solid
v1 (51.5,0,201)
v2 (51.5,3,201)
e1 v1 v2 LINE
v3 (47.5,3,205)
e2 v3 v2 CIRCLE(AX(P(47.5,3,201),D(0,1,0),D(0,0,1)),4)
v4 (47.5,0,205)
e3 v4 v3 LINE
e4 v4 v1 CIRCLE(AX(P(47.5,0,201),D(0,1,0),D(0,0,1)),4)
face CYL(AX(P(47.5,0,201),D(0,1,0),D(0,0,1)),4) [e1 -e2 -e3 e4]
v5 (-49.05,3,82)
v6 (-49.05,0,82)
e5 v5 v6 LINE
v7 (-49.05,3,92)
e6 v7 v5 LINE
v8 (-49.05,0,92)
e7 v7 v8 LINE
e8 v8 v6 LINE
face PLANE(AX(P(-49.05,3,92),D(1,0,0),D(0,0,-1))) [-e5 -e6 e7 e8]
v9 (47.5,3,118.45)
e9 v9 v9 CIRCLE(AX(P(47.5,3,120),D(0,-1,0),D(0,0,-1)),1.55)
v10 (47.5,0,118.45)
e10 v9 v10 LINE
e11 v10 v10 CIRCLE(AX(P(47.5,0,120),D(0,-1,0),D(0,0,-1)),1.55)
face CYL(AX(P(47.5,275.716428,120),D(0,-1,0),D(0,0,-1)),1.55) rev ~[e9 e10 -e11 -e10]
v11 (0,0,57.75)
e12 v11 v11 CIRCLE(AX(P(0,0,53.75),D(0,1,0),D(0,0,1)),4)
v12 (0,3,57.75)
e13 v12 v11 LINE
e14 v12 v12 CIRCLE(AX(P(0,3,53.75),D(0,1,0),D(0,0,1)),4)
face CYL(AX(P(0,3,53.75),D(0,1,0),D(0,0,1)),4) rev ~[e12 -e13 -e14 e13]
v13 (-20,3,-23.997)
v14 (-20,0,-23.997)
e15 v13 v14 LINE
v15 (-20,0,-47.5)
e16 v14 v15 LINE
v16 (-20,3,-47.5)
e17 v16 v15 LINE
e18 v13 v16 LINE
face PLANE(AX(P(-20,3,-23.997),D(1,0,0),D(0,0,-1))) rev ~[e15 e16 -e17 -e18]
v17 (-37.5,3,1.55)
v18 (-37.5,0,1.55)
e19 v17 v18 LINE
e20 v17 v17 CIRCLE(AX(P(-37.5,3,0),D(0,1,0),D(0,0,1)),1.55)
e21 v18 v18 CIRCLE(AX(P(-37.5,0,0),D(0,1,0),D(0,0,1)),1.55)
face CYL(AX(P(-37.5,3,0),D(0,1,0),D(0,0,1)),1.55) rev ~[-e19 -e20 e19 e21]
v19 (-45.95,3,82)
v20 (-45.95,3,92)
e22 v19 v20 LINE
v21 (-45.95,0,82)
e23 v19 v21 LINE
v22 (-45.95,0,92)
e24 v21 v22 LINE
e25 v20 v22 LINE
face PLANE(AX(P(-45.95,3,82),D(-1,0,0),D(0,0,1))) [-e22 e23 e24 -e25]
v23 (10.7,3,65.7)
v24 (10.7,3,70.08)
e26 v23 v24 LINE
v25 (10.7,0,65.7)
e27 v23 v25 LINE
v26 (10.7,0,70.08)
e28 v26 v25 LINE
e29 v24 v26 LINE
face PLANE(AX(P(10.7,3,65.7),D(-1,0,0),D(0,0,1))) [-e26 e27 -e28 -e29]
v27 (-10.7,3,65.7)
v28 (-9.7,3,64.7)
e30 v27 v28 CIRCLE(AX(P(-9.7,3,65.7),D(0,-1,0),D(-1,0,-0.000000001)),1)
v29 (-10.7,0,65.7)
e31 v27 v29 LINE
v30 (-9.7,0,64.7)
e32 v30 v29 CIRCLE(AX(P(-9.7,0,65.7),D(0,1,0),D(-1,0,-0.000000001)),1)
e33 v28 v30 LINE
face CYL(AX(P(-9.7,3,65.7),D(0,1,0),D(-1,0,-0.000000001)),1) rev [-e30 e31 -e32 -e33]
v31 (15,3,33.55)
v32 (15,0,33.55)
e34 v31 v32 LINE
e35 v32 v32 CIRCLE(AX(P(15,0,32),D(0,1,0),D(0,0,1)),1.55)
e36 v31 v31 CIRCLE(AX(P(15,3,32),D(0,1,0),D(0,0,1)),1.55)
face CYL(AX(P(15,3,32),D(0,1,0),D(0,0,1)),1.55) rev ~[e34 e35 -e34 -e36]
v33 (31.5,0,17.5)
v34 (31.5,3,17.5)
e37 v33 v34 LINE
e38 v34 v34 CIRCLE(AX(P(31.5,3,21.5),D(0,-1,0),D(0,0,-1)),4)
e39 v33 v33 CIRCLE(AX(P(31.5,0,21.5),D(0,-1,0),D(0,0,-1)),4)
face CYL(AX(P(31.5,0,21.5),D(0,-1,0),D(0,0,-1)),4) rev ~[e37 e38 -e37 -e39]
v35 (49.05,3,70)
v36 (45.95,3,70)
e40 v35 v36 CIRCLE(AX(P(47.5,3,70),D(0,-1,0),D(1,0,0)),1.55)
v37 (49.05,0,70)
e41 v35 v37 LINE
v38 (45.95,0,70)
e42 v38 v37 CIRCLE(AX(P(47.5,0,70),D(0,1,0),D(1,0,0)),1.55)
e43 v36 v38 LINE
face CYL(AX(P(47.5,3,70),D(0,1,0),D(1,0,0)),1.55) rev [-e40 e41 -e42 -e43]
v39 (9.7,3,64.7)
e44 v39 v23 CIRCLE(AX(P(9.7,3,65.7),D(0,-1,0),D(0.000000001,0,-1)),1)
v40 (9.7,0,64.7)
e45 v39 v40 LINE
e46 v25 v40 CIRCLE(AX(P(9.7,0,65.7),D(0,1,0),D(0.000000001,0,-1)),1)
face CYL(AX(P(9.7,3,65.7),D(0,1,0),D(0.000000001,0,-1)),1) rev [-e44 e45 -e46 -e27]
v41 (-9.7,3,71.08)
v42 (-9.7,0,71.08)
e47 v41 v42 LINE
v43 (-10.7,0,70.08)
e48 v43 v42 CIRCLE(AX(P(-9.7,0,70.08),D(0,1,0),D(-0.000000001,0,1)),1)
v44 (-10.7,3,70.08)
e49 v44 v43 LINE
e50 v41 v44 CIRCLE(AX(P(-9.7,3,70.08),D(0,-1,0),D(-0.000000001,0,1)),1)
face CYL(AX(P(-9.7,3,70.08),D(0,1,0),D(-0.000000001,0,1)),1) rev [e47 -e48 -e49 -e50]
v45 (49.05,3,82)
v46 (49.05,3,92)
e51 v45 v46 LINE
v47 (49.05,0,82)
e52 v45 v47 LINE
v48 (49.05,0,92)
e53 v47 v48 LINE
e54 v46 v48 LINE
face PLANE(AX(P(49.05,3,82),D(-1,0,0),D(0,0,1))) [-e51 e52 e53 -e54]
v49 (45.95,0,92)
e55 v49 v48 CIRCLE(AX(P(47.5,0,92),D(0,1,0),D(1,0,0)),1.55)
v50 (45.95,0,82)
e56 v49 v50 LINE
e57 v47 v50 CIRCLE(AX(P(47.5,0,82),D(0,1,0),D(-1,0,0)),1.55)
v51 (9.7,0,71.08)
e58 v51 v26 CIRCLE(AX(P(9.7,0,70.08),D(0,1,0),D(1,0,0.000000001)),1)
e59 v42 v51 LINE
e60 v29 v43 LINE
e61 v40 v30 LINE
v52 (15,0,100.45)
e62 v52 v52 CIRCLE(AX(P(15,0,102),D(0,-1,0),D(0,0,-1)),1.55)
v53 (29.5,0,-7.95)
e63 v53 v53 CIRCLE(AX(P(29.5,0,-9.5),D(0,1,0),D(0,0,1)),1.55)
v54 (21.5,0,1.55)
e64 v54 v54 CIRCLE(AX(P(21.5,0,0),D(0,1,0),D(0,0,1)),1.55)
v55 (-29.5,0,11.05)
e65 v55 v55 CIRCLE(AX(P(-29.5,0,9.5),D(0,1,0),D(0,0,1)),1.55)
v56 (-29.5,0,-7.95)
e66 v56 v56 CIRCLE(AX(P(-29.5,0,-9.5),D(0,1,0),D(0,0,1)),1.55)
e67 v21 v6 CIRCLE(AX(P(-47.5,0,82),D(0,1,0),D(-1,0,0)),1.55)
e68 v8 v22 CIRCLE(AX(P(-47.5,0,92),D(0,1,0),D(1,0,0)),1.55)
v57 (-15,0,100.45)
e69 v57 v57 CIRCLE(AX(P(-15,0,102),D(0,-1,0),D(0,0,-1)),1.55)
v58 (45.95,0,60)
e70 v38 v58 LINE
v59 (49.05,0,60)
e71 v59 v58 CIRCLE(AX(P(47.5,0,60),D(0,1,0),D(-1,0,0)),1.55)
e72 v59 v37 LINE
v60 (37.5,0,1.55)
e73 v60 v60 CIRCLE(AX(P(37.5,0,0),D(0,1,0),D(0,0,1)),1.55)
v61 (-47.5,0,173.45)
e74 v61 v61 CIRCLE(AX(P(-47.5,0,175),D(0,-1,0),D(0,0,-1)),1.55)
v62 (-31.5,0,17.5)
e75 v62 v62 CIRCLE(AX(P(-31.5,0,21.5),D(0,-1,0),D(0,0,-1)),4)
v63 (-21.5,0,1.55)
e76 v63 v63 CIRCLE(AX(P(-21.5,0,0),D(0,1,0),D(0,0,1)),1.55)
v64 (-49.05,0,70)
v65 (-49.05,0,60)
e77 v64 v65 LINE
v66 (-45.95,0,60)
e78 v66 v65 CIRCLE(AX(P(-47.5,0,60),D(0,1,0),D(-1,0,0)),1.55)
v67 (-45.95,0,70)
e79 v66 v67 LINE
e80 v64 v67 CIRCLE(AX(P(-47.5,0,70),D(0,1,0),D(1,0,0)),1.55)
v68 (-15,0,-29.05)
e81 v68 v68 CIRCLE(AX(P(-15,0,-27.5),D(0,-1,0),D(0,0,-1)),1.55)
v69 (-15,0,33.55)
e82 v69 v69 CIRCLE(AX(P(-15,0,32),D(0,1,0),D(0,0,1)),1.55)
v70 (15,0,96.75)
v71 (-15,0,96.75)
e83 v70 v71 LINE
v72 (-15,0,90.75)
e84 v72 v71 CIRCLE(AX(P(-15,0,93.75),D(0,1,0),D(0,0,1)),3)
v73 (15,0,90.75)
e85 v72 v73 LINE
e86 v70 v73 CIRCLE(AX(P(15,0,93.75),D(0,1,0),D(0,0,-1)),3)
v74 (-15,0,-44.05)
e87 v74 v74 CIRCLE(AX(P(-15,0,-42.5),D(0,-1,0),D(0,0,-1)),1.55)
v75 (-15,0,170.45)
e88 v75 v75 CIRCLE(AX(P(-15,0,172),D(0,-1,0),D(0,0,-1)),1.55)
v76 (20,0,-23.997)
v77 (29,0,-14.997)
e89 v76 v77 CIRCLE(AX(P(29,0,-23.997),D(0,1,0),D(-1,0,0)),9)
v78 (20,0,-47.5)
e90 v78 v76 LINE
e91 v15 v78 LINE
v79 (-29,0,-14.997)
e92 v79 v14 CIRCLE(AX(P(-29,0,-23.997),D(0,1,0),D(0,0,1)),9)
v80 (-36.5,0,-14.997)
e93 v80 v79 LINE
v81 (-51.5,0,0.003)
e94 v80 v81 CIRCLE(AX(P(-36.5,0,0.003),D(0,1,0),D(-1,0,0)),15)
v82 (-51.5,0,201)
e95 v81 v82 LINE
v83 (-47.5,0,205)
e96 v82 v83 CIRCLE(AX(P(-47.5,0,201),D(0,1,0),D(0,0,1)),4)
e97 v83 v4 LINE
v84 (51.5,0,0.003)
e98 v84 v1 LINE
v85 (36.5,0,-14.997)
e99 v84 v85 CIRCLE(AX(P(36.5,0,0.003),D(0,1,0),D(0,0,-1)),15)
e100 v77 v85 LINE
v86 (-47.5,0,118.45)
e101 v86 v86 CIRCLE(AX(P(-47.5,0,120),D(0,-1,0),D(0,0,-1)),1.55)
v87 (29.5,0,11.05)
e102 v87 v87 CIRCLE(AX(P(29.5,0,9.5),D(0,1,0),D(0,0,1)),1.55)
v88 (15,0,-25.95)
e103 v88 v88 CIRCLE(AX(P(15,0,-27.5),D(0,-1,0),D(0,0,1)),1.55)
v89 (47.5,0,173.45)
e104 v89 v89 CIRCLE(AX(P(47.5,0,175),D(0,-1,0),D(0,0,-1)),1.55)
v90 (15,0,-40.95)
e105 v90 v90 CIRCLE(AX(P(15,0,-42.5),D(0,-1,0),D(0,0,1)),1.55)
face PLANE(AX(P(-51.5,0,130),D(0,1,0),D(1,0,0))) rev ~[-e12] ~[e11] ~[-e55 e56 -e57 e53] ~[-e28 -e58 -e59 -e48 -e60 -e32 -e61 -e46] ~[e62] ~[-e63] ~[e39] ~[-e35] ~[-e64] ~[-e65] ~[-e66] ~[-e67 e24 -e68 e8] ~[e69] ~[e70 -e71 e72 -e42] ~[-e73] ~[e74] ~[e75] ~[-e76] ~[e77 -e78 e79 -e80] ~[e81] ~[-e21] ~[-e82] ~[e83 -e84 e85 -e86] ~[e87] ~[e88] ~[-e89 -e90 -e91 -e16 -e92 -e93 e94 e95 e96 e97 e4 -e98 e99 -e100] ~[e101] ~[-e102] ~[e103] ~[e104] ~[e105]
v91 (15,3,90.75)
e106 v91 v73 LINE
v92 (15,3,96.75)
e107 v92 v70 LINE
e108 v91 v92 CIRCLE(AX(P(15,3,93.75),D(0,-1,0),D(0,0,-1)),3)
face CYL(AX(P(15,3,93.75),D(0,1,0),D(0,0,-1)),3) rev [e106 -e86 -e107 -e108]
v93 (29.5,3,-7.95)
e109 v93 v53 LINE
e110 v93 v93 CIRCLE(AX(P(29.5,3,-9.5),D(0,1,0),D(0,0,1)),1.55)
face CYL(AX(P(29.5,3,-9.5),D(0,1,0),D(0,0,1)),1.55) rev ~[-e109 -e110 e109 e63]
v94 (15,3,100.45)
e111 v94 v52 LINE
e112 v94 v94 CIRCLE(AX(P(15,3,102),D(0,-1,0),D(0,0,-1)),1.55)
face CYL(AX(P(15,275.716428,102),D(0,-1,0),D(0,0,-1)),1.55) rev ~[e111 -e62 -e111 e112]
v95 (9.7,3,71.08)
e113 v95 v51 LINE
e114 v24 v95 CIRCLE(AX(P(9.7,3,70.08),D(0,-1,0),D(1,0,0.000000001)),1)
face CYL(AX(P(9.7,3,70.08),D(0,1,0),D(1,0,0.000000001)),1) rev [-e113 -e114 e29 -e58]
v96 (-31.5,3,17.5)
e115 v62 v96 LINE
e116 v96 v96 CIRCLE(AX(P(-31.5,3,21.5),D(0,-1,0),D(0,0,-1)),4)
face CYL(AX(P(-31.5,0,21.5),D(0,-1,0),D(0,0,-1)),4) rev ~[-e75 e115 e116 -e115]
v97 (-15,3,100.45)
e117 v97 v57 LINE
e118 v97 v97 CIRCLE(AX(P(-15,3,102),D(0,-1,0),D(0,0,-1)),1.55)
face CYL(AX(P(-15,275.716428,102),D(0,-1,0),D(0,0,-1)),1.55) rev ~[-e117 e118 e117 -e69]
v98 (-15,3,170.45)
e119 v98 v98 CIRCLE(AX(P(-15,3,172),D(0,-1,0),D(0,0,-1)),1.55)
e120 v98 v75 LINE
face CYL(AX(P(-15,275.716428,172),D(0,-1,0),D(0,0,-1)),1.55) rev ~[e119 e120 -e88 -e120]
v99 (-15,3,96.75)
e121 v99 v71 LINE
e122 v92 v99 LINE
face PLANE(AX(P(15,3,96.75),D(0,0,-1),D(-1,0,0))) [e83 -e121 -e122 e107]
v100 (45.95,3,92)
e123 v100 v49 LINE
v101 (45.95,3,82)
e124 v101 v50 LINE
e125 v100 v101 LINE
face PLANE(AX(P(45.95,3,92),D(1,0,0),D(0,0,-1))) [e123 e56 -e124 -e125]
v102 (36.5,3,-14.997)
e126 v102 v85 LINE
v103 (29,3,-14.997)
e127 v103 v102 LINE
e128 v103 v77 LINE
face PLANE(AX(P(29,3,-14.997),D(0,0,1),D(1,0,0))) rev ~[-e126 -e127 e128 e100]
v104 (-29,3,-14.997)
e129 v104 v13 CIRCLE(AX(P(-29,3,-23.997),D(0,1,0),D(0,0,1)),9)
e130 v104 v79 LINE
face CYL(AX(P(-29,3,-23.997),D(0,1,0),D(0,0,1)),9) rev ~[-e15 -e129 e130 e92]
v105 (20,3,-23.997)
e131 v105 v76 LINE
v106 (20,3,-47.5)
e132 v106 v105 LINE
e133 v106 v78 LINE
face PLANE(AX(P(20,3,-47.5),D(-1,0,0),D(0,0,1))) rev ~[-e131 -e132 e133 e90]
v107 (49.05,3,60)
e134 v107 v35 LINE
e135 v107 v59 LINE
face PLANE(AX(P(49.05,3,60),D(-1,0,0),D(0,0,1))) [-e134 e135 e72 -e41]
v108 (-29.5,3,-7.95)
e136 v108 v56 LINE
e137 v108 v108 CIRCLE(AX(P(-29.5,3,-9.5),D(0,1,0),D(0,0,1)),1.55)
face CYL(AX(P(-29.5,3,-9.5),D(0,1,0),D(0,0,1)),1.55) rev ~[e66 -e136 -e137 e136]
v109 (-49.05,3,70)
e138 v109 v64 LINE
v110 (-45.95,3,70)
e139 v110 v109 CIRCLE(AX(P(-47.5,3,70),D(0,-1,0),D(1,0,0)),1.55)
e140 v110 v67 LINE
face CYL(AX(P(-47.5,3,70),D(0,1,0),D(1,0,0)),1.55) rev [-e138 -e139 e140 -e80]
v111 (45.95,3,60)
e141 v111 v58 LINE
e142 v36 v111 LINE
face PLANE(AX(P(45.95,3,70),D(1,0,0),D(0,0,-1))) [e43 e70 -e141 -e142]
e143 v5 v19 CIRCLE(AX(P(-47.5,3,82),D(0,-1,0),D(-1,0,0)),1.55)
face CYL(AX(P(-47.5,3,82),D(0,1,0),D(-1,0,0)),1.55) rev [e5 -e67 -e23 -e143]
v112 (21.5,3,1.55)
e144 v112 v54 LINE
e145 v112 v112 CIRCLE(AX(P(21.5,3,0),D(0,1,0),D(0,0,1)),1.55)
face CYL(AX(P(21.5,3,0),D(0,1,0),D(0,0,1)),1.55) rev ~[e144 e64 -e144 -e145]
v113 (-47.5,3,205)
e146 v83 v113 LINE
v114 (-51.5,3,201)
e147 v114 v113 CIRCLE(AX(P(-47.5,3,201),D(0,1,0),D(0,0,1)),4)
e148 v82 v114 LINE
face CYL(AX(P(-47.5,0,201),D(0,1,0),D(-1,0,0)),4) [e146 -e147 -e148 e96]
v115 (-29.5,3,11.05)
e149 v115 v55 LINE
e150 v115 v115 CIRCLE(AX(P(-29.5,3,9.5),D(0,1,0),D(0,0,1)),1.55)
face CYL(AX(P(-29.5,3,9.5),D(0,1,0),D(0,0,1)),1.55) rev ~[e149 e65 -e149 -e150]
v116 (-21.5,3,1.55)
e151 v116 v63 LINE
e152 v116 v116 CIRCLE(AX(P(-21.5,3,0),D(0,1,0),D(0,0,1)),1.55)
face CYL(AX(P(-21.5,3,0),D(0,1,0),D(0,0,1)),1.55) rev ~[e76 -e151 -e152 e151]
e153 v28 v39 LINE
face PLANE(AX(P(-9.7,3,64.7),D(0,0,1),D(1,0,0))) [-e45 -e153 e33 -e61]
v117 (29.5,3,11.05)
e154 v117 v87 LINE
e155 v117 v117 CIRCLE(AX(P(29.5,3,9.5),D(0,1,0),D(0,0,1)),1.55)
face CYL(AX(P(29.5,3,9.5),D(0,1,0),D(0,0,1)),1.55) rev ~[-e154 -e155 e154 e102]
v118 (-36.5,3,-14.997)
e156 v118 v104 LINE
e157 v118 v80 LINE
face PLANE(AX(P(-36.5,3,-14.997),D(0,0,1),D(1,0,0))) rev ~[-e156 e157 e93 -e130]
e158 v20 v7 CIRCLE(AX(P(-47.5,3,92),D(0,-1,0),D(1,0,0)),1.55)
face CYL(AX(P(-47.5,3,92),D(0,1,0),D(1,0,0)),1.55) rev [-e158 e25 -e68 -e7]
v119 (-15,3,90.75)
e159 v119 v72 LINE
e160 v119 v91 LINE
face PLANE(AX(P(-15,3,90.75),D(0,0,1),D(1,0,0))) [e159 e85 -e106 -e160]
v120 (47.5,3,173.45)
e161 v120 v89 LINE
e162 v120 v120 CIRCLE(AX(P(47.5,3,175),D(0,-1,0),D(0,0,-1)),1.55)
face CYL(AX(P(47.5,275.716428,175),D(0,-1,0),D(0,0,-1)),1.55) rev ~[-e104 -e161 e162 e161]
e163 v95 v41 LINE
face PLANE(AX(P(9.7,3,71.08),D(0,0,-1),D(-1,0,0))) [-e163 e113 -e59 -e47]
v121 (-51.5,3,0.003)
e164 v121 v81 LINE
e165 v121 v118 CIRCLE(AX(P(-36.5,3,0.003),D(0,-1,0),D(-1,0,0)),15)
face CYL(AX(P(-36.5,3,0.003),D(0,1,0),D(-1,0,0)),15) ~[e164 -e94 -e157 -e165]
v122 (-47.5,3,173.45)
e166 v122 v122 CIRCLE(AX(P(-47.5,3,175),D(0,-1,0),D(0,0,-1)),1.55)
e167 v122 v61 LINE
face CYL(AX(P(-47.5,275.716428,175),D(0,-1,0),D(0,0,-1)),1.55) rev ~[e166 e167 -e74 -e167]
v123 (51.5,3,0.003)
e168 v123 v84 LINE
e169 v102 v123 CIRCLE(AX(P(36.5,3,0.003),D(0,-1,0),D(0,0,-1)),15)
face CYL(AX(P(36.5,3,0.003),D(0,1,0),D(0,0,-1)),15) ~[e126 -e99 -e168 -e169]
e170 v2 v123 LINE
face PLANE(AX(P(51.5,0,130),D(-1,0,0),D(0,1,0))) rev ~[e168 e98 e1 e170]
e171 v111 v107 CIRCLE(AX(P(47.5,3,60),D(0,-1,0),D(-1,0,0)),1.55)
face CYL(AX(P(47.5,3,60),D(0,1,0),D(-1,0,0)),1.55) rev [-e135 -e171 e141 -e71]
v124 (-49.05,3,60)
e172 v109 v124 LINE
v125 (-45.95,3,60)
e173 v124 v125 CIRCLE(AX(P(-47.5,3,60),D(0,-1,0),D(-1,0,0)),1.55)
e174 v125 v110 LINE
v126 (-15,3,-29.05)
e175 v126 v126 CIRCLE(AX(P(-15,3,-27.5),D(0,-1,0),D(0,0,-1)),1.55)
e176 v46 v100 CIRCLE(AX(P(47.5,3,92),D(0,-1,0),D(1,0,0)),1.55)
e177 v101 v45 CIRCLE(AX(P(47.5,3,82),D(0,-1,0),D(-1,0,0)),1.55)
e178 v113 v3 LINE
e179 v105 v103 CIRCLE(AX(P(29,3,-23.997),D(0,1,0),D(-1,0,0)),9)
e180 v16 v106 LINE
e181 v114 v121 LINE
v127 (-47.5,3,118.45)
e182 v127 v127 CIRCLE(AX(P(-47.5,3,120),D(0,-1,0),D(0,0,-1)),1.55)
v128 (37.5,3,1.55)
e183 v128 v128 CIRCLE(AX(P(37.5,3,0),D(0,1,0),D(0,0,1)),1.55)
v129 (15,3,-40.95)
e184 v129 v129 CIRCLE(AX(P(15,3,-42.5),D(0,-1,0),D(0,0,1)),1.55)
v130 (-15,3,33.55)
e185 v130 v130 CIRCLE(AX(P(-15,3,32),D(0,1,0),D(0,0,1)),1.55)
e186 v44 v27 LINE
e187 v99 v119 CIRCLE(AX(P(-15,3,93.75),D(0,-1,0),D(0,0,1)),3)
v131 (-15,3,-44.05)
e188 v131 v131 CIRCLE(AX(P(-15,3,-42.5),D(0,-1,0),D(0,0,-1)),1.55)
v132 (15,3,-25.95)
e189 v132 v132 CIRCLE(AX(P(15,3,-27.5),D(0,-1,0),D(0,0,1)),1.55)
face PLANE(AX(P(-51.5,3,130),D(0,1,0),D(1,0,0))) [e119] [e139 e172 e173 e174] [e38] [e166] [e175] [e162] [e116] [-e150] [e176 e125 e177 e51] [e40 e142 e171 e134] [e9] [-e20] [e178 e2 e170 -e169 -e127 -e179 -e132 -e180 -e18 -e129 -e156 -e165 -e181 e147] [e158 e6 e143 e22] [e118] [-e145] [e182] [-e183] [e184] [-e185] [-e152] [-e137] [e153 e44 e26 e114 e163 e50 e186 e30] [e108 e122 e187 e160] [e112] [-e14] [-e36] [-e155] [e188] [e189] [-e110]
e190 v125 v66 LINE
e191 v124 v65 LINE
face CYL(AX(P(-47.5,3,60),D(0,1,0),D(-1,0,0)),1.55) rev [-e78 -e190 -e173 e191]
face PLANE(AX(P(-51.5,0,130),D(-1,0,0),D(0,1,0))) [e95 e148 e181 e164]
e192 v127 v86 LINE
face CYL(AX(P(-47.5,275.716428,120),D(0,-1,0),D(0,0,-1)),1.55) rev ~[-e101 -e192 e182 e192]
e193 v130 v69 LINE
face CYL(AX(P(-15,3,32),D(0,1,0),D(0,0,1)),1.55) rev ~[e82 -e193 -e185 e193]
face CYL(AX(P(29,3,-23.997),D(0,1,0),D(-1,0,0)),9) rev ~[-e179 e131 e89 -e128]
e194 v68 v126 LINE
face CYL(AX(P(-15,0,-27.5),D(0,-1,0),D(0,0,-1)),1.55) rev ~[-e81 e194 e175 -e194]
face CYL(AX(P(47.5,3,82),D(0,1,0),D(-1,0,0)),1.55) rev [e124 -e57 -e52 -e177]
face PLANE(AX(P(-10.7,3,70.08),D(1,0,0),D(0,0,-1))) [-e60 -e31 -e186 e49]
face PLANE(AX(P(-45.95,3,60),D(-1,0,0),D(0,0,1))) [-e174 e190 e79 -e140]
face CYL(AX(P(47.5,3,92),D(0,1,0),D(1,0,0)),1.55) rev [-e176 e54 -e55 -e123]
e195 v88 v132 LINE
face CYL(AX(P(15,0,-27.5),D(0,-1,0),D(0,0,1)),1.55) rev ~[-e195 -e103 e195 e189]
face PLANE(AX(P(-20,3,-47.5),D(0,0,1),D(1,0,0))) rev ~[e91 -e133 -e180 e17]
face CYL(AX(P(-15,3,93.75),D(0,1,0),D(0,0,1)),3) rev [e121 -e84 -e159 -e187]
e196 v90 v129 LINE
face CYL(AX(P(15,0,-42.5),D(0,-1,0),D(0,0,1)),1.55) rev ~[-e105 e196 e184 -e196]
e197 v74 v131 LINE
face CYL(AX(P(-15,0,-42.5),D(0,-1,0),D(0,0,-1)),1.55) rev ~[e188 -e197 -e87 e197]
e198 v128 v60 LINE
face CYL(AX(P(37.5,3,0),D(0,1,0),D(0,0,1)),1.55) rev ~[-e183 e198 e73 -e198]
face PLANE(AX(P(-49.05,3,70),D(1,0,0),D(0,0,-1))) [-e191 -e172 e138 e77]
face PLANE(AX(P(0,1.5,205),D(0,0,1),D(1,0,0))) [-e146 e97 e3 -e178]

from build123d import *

# Parameters (mm, degrees)
SKETCH_1_W              = 200
SKETCH_1_H              = 200
EXTRUDE_1_DEPTH         = 3
SKETCH_2_R              = 1.55
CUT_EXTRUDE_2_DEPTH     = 10
CUT_EXTRUDE_3_DEPTH     = 10
SKETCH_6_R              = 1.55
CUT_EXTRUDE_3_1_1_DEPTH = 10
SKETCH_9_R              = 4
CUT_EXTRUDE_5184_DEPTH  = 113.522220028
EXTRUDE_2_DEPTH         = 30
CUT_EXTRUDE_2006_REACH  = 141.862
SKETCH_10_R             = 4
CUT_EXTRUDE_6949_REACH  = 141.862
CUT_EXTRUDE_4_DEPTH     = 10
SKETCH_13_W             = 103
SKETCH_13_H             = 3
EXTRUDE_3_DEPTH         = 75
CUT_EXTRUDE_7474_DEPTH  = 10
HOLE_WIZARD_3_1_3_1_1_D = 3.1
FILLET_1_R              = 4
HOLE_WIZARD_3_1_3_1_2_D = 3.1


with BuildPart() as part:
    # 草图1 → 凸台-拉伸1 (new body)
    with BuildSketch(Plane(origin=(0, 0, 0), x_dir=(1, 0, 0), z_dir=(0, 1, 0))):
        Rectangle(SKETCH_1_W, SKETCH_1_H)
    extrude(amount=EXTRUDE_1_DEPTH)

    # 草图2 → 切除-拉伸2 (cut)
    with BuildSketch(Plane(origin=(0, 3, 0), x_dir=(1, 0, 0), z_dir=(0, 1, 0))):
        with Locations(Location((29.5, 9.5, 0), (0, 0, 270))):
            Circle(SKETCH_2_R)
        with Locations(Location((21.5, 0, 0), (0, 0, 270))):
            Circle(SKETCH_2_R)
        with Locations(Location((29.5, -9.5, 0), (0, 0, 270))):
            Circle(SKETCH_2_R)
        with Locations(Location((37.5, 0, 0), (0, 0, 270))):
            Circle(SKETCH_2_R)
        with Locations(Location((-29.5, -9.5, 0), (0, 0, 270))):
            Circle(SKETCH_2_R)
        with Locations(Location((-37.5, 0, 0), (0, 0, 270))):
            Circle(SKETCH_2_R)
        with Locations(Location((-21.5, 0, 0), (0, 0, 270))):
            Circle(SKETCH_2_R)
        with Locations(Location((-29.5, 9.5, 0), (0, 0, 270))):
            Circle(SKETCH_2_R)
        with Locations(Location((-15, -32, 0), (0, 0, 270))):
            Circle(SKETCH_2_R)
        with Locations(Location((15, -32, 0), (0, 0, 270))):
            Circle(SKETCH_2_R)
    extrude(amount=-CUT_EXTRUDE_2_DEPTH, mode=Mode.SUBTRACT)

    # 草图5 → 切除-拉伸3 (cut)
    with BuildSketch(Plane(origin=(0, 3, 0), x_dir=(1, 0, 0), z_dir=(0, 1, 0))):
        with BuildLine():
            Line((51.5, -0.0030003), (51.5, -100))
            Line((51.5, -100), (100, -100))
            Line((100, -100), (100, 100))
            Line((100, 100), (-100, 100))
            Line((-100, 100), (-100, -100))
            Line((-100, -100), (-51.5, -100))
            Line((-51.5, -100), (-51.5, -0.0030003))
            ThreePointArc((-51.5, -0.0030003), (-47.106601718, 10.603601418), (-36.5, 14.9969997))
            Line((-36.5, 14.9969997), (-29, 14.9969997))
            ThreePointArc((-29, 14.9969997), (-22.636038969, 17.633038669), (-20, 23.9969997))
            Line((-20, 23.9969997), (-20, 24.9949995))
            Line((-20, 24.9949995), (-20, 47.5))
            Line((-20, 47.5), (0, 47.5))
            Line((0, 47.5), (20, 47.5))
            Line((20, 47.5), (20, 24.9949995))
            Line((20, 24.9949995), (20, 23.9969997))
            ThreePointArc((20, 23.9969997), (22.636038969, 17.633038669), (29, 14.9969997))
            Line((29, 14.9969997), (36.5, 14.9969997))
            ThreePointArc((36.5, 14.9969997), (47.106601718, 10.603601418), (51.5, -0.0030003))
        make_face()
    extrude(amount=-CUT_EXTRUDE_3_DEPTH, mode=Mode.SUBTRACT)

    # 草图6 → φ3.1通孔1 (cut)
    with BuildSketch(Plane.XZ):
        with Locations(Location((-15, -42.5, 0), (0, 0, 270))):
            Circle(SKETCH_6_R)
        with Locations(Location((-15, -27.5, 0), (0, 0, 270))):
            Circle(SKETCH_6_R)
        with Locations(Location((15, -27.5, 0), (0, 0, 90))):
            Circle(SKETCH_6_R)
        with Locations(Location((15, -42.5, 0), (0, 0, 90))):
            Circle(SKETCH_6_R)
    extrude(amount=-CUT_EXTRUDE_3_1_1_DEPTH, mode=Mode.SUBTRACT)

    # 草图9 → Cut-Extrude 5184 (cut, through all)
    with BuildSketch(Plane(origin=(0, 3, 0), x_dir=(1, 0, 0), z_dir=(0, 1, 0))):
        with Locations(Location((0, -53.75, 0), (0, 0, 270))):
            Circle(SKETCH_9_R)
    extrude(amount=-CUT_EXTRUDE_5184_DEPTH, mode=Mode.SUBTRACT)

    # 草图11 → 凸台-拉伸2 (add)
    with BuildSketch(Plane.XY.offset(100)):
        Polygon((-44.5, 3), (-51.5, 3), (-51.5, 0), (-44.5, 0), (44.5, 0), (51.5, 0), (51.5, 3), (44.5, 3), align=None)
    extrude(amount=EXTRUDE_2_DEPTH)

    # 草图10 → 2006电机穿线孔 (cut, up to next)
    with BuildSketch(Plane.XZ, mode=Mode.PRIVATE) as cut_extrude_2006_sk1:
        with Locations(Location((-31.5, 21.5, 0), (0, 0, 270))):
            Circle(SKETCH_10_R)
    cut_extrude_2006_tool1 = extrude(cut_extrude_2006_sk1.sketch, amount=-CUT_EXTRUDE_2006_REACH, mode=Mode.PRIVATE) & part.part
    # 草图10 → 2006电机穿线孔 (cut, up to next)
    with BuildSketch(Plane.XZ, mode=Mode.PRIVATE) as cut_extrude_2006_sk2:
        with Locations(Location((31.5, 21.5, 0), (0, 0, 270))):
            Circle(SKETCH_10_R)
    cut_extrude_2006_tool2 = extrude(cut_extrude_2006_sk2.sketch, amount=-CUT_EXTRUDE_2006_REACH, mode=Mode.PRIVATE) & part.part
    add(cut_extrude_2006_tool1.solids().sort_by_distance((-31.5, 0, 21.5))[0], mode=Mode.SUBTRACT)
    add(cut_extrude_2006_tool2.solids().sort_by_distance((31.5, 0, 21.5))[0], mode=Mode.SUBTRACT)

    # 草图12 → Cut-Extrude 6949 (cut, up to next)
    with BuildSketch(Plane(origin=(0, 3, 0), x_dir=(1, 0, 0), z_dir=(0, 1, 0)), mode=Mode.PRIVATE) as cut_extrude_6949_sk1:
        with BuildLine():
            Line((-9.7, -64.7), (9.7, -64.7))
            ThreePointArc((9.7, -64.7), (10.407106781, -64.992893219), (10.7, -65.7))
            Line((10.7, -65.7), (10.7, -70.08))
            ThreePointArc((10.7, -70.08), (10.407106781, -70.787106781), (9.7, -71.08))
            Line((9.7, -71.08), (-9.7, -71.08))
            ThreePointArc((-9.7, -71.08), (-10.407106781, -70.787106781), (-10.7, -70.08))
            Line((-10.7, -70.08), (-10.7, -65.7))
            ThreePointArc((-10.7, -65.7), (-10.407106781, -64.992893219), (-9.7, -64.7))
        make_face()
    cut_extrude_6949_tool1 = extrude(cut_extrude_6949_sk1.sketch, amount=-CUT_EXTRUDE_6949_REACH, mode=Mode.PRIVATE) & part.part
    add(cut_extrude_6949_tool1.solids().sort_by_distance((0, 3, 67.89))[0], mode=Mode.SUBTRACT)

    # 草图7 → 切除-拉伸4 (cut)
    with BuildSketch(Plane(origin=(0, 3, 0), x_dir=(1, 0, 0), z_dir=(0, 1, 0))):
        with BuildLine():
            Line((-49.05, -70), (-49.05, -60))
            ThreePointArc((-49.05, -60), (-47.5, -58.45), (-45.95, -60))
            Line((-45.95, -60), (-45.95, -70))
            ThreePointArc((-45.95, -70), (-47.5, -71.55), (-49.05, -70))
        make_face()
        with BuildLine():
            Line((-49.05, -92), (-49.05, -82))
            ThreePointArc((-49.05, -82), (-47.5, -80.45), (-45.95, -82))
            Line((-45.95, -82), (-45.95, -92))
            ThreePointArc((-45.95, -92), (-47.5, -93.55), (-49.05, -92))
        make_face()
        with BuildLine():
            Line((45.95, -92), (45.95, -82))
            ThreePointArc((45.95, -82), (47.5, -80.45), (49.05, -82))
            Line((49.05, -82), (49.05, -92))
            ThreePointArc((49.05, -92), (47.5, -93.55), (45.95, -92))
        make_face()
        with BuildLine():
            Line((45.95, -70), (45.95, -60))
            ThreePointArc((45.95, -60), (47.5, -58.45), (49.05, -60))
            Line((49.05, -60), (49.05, -70))
            ThreePointArc((49.05, -70), (47.5, -71.55), (45.95, -70))
        make_face()
    extrude(amount=-CUT_EXTRUDE_4_DEPTH, mode=Mode.SUBTRACT)

    # 草图13 → 凸台-拉伸3 (add)
    with BuildSketch(Plane.XY.offset(130)):
        with Locations((0, 1.5)):
            Rectangle(SKETCH_13_W, SKETCH_13_H)
    extrude(amount=EXTRUDE_3_DEPTH)

    # 草图14 → Cut-Extrude 7474 (cut)
    with BuildSketch(Plane(origin=(0, 3, 0), x_dir=(1, 0, 0), z_dir=(0, 1, 0))):
        with BuildLine():
            Line((-15, -90.75), (15, -90.75))
            ThreePointArc((15, -90.75), (18, -93.75), (15, -96.75))
            Line((15, -96.75), (-15, -96.75))
            ThreePointArc((-15, -96.75), (-18, -93.75), (-15, -90.75))
        make_face()
    extrude(amount=-CUT_EXTRUDE_7474_DEPTH, mode=Mode.SUBTRACT)

    # Ø3.1 (3.1) 直径孔1 (through all)
    with Locations(Plane(origin=(-47.5, 3, 120), x_dir=(0, 0, 1), z_dir=(0, 1, 0))):
        with Locations((0, 0), (0, 95), (55, 0), (55, 95)):
            Hole(HOLE_WIZARD_3_1_3_1_1_D / 2)

    # 圆角1
    fillet_1_edges = [part.edges().sort_by_distance(p)[0] for p in [
        (-51.5, 1.5, 205),
        (51.5, 1.5, 205),
    ]]
    fillet(fillet_1_edges, radius=FILLET_1_R)

    # Ø3.1 (3.1) 直径孔2 (through all)
    with Locations(Plane(origin=(-15, 3, 102), x_dir=(0, 0, 1), z_dir=(0, 1, 0))):
        with Locations((0, 0), (0, 30), (70, 0)):
            Hole(HOLE_WIZARD_3_1_3_1_2_D / 2)


solid = part.part
